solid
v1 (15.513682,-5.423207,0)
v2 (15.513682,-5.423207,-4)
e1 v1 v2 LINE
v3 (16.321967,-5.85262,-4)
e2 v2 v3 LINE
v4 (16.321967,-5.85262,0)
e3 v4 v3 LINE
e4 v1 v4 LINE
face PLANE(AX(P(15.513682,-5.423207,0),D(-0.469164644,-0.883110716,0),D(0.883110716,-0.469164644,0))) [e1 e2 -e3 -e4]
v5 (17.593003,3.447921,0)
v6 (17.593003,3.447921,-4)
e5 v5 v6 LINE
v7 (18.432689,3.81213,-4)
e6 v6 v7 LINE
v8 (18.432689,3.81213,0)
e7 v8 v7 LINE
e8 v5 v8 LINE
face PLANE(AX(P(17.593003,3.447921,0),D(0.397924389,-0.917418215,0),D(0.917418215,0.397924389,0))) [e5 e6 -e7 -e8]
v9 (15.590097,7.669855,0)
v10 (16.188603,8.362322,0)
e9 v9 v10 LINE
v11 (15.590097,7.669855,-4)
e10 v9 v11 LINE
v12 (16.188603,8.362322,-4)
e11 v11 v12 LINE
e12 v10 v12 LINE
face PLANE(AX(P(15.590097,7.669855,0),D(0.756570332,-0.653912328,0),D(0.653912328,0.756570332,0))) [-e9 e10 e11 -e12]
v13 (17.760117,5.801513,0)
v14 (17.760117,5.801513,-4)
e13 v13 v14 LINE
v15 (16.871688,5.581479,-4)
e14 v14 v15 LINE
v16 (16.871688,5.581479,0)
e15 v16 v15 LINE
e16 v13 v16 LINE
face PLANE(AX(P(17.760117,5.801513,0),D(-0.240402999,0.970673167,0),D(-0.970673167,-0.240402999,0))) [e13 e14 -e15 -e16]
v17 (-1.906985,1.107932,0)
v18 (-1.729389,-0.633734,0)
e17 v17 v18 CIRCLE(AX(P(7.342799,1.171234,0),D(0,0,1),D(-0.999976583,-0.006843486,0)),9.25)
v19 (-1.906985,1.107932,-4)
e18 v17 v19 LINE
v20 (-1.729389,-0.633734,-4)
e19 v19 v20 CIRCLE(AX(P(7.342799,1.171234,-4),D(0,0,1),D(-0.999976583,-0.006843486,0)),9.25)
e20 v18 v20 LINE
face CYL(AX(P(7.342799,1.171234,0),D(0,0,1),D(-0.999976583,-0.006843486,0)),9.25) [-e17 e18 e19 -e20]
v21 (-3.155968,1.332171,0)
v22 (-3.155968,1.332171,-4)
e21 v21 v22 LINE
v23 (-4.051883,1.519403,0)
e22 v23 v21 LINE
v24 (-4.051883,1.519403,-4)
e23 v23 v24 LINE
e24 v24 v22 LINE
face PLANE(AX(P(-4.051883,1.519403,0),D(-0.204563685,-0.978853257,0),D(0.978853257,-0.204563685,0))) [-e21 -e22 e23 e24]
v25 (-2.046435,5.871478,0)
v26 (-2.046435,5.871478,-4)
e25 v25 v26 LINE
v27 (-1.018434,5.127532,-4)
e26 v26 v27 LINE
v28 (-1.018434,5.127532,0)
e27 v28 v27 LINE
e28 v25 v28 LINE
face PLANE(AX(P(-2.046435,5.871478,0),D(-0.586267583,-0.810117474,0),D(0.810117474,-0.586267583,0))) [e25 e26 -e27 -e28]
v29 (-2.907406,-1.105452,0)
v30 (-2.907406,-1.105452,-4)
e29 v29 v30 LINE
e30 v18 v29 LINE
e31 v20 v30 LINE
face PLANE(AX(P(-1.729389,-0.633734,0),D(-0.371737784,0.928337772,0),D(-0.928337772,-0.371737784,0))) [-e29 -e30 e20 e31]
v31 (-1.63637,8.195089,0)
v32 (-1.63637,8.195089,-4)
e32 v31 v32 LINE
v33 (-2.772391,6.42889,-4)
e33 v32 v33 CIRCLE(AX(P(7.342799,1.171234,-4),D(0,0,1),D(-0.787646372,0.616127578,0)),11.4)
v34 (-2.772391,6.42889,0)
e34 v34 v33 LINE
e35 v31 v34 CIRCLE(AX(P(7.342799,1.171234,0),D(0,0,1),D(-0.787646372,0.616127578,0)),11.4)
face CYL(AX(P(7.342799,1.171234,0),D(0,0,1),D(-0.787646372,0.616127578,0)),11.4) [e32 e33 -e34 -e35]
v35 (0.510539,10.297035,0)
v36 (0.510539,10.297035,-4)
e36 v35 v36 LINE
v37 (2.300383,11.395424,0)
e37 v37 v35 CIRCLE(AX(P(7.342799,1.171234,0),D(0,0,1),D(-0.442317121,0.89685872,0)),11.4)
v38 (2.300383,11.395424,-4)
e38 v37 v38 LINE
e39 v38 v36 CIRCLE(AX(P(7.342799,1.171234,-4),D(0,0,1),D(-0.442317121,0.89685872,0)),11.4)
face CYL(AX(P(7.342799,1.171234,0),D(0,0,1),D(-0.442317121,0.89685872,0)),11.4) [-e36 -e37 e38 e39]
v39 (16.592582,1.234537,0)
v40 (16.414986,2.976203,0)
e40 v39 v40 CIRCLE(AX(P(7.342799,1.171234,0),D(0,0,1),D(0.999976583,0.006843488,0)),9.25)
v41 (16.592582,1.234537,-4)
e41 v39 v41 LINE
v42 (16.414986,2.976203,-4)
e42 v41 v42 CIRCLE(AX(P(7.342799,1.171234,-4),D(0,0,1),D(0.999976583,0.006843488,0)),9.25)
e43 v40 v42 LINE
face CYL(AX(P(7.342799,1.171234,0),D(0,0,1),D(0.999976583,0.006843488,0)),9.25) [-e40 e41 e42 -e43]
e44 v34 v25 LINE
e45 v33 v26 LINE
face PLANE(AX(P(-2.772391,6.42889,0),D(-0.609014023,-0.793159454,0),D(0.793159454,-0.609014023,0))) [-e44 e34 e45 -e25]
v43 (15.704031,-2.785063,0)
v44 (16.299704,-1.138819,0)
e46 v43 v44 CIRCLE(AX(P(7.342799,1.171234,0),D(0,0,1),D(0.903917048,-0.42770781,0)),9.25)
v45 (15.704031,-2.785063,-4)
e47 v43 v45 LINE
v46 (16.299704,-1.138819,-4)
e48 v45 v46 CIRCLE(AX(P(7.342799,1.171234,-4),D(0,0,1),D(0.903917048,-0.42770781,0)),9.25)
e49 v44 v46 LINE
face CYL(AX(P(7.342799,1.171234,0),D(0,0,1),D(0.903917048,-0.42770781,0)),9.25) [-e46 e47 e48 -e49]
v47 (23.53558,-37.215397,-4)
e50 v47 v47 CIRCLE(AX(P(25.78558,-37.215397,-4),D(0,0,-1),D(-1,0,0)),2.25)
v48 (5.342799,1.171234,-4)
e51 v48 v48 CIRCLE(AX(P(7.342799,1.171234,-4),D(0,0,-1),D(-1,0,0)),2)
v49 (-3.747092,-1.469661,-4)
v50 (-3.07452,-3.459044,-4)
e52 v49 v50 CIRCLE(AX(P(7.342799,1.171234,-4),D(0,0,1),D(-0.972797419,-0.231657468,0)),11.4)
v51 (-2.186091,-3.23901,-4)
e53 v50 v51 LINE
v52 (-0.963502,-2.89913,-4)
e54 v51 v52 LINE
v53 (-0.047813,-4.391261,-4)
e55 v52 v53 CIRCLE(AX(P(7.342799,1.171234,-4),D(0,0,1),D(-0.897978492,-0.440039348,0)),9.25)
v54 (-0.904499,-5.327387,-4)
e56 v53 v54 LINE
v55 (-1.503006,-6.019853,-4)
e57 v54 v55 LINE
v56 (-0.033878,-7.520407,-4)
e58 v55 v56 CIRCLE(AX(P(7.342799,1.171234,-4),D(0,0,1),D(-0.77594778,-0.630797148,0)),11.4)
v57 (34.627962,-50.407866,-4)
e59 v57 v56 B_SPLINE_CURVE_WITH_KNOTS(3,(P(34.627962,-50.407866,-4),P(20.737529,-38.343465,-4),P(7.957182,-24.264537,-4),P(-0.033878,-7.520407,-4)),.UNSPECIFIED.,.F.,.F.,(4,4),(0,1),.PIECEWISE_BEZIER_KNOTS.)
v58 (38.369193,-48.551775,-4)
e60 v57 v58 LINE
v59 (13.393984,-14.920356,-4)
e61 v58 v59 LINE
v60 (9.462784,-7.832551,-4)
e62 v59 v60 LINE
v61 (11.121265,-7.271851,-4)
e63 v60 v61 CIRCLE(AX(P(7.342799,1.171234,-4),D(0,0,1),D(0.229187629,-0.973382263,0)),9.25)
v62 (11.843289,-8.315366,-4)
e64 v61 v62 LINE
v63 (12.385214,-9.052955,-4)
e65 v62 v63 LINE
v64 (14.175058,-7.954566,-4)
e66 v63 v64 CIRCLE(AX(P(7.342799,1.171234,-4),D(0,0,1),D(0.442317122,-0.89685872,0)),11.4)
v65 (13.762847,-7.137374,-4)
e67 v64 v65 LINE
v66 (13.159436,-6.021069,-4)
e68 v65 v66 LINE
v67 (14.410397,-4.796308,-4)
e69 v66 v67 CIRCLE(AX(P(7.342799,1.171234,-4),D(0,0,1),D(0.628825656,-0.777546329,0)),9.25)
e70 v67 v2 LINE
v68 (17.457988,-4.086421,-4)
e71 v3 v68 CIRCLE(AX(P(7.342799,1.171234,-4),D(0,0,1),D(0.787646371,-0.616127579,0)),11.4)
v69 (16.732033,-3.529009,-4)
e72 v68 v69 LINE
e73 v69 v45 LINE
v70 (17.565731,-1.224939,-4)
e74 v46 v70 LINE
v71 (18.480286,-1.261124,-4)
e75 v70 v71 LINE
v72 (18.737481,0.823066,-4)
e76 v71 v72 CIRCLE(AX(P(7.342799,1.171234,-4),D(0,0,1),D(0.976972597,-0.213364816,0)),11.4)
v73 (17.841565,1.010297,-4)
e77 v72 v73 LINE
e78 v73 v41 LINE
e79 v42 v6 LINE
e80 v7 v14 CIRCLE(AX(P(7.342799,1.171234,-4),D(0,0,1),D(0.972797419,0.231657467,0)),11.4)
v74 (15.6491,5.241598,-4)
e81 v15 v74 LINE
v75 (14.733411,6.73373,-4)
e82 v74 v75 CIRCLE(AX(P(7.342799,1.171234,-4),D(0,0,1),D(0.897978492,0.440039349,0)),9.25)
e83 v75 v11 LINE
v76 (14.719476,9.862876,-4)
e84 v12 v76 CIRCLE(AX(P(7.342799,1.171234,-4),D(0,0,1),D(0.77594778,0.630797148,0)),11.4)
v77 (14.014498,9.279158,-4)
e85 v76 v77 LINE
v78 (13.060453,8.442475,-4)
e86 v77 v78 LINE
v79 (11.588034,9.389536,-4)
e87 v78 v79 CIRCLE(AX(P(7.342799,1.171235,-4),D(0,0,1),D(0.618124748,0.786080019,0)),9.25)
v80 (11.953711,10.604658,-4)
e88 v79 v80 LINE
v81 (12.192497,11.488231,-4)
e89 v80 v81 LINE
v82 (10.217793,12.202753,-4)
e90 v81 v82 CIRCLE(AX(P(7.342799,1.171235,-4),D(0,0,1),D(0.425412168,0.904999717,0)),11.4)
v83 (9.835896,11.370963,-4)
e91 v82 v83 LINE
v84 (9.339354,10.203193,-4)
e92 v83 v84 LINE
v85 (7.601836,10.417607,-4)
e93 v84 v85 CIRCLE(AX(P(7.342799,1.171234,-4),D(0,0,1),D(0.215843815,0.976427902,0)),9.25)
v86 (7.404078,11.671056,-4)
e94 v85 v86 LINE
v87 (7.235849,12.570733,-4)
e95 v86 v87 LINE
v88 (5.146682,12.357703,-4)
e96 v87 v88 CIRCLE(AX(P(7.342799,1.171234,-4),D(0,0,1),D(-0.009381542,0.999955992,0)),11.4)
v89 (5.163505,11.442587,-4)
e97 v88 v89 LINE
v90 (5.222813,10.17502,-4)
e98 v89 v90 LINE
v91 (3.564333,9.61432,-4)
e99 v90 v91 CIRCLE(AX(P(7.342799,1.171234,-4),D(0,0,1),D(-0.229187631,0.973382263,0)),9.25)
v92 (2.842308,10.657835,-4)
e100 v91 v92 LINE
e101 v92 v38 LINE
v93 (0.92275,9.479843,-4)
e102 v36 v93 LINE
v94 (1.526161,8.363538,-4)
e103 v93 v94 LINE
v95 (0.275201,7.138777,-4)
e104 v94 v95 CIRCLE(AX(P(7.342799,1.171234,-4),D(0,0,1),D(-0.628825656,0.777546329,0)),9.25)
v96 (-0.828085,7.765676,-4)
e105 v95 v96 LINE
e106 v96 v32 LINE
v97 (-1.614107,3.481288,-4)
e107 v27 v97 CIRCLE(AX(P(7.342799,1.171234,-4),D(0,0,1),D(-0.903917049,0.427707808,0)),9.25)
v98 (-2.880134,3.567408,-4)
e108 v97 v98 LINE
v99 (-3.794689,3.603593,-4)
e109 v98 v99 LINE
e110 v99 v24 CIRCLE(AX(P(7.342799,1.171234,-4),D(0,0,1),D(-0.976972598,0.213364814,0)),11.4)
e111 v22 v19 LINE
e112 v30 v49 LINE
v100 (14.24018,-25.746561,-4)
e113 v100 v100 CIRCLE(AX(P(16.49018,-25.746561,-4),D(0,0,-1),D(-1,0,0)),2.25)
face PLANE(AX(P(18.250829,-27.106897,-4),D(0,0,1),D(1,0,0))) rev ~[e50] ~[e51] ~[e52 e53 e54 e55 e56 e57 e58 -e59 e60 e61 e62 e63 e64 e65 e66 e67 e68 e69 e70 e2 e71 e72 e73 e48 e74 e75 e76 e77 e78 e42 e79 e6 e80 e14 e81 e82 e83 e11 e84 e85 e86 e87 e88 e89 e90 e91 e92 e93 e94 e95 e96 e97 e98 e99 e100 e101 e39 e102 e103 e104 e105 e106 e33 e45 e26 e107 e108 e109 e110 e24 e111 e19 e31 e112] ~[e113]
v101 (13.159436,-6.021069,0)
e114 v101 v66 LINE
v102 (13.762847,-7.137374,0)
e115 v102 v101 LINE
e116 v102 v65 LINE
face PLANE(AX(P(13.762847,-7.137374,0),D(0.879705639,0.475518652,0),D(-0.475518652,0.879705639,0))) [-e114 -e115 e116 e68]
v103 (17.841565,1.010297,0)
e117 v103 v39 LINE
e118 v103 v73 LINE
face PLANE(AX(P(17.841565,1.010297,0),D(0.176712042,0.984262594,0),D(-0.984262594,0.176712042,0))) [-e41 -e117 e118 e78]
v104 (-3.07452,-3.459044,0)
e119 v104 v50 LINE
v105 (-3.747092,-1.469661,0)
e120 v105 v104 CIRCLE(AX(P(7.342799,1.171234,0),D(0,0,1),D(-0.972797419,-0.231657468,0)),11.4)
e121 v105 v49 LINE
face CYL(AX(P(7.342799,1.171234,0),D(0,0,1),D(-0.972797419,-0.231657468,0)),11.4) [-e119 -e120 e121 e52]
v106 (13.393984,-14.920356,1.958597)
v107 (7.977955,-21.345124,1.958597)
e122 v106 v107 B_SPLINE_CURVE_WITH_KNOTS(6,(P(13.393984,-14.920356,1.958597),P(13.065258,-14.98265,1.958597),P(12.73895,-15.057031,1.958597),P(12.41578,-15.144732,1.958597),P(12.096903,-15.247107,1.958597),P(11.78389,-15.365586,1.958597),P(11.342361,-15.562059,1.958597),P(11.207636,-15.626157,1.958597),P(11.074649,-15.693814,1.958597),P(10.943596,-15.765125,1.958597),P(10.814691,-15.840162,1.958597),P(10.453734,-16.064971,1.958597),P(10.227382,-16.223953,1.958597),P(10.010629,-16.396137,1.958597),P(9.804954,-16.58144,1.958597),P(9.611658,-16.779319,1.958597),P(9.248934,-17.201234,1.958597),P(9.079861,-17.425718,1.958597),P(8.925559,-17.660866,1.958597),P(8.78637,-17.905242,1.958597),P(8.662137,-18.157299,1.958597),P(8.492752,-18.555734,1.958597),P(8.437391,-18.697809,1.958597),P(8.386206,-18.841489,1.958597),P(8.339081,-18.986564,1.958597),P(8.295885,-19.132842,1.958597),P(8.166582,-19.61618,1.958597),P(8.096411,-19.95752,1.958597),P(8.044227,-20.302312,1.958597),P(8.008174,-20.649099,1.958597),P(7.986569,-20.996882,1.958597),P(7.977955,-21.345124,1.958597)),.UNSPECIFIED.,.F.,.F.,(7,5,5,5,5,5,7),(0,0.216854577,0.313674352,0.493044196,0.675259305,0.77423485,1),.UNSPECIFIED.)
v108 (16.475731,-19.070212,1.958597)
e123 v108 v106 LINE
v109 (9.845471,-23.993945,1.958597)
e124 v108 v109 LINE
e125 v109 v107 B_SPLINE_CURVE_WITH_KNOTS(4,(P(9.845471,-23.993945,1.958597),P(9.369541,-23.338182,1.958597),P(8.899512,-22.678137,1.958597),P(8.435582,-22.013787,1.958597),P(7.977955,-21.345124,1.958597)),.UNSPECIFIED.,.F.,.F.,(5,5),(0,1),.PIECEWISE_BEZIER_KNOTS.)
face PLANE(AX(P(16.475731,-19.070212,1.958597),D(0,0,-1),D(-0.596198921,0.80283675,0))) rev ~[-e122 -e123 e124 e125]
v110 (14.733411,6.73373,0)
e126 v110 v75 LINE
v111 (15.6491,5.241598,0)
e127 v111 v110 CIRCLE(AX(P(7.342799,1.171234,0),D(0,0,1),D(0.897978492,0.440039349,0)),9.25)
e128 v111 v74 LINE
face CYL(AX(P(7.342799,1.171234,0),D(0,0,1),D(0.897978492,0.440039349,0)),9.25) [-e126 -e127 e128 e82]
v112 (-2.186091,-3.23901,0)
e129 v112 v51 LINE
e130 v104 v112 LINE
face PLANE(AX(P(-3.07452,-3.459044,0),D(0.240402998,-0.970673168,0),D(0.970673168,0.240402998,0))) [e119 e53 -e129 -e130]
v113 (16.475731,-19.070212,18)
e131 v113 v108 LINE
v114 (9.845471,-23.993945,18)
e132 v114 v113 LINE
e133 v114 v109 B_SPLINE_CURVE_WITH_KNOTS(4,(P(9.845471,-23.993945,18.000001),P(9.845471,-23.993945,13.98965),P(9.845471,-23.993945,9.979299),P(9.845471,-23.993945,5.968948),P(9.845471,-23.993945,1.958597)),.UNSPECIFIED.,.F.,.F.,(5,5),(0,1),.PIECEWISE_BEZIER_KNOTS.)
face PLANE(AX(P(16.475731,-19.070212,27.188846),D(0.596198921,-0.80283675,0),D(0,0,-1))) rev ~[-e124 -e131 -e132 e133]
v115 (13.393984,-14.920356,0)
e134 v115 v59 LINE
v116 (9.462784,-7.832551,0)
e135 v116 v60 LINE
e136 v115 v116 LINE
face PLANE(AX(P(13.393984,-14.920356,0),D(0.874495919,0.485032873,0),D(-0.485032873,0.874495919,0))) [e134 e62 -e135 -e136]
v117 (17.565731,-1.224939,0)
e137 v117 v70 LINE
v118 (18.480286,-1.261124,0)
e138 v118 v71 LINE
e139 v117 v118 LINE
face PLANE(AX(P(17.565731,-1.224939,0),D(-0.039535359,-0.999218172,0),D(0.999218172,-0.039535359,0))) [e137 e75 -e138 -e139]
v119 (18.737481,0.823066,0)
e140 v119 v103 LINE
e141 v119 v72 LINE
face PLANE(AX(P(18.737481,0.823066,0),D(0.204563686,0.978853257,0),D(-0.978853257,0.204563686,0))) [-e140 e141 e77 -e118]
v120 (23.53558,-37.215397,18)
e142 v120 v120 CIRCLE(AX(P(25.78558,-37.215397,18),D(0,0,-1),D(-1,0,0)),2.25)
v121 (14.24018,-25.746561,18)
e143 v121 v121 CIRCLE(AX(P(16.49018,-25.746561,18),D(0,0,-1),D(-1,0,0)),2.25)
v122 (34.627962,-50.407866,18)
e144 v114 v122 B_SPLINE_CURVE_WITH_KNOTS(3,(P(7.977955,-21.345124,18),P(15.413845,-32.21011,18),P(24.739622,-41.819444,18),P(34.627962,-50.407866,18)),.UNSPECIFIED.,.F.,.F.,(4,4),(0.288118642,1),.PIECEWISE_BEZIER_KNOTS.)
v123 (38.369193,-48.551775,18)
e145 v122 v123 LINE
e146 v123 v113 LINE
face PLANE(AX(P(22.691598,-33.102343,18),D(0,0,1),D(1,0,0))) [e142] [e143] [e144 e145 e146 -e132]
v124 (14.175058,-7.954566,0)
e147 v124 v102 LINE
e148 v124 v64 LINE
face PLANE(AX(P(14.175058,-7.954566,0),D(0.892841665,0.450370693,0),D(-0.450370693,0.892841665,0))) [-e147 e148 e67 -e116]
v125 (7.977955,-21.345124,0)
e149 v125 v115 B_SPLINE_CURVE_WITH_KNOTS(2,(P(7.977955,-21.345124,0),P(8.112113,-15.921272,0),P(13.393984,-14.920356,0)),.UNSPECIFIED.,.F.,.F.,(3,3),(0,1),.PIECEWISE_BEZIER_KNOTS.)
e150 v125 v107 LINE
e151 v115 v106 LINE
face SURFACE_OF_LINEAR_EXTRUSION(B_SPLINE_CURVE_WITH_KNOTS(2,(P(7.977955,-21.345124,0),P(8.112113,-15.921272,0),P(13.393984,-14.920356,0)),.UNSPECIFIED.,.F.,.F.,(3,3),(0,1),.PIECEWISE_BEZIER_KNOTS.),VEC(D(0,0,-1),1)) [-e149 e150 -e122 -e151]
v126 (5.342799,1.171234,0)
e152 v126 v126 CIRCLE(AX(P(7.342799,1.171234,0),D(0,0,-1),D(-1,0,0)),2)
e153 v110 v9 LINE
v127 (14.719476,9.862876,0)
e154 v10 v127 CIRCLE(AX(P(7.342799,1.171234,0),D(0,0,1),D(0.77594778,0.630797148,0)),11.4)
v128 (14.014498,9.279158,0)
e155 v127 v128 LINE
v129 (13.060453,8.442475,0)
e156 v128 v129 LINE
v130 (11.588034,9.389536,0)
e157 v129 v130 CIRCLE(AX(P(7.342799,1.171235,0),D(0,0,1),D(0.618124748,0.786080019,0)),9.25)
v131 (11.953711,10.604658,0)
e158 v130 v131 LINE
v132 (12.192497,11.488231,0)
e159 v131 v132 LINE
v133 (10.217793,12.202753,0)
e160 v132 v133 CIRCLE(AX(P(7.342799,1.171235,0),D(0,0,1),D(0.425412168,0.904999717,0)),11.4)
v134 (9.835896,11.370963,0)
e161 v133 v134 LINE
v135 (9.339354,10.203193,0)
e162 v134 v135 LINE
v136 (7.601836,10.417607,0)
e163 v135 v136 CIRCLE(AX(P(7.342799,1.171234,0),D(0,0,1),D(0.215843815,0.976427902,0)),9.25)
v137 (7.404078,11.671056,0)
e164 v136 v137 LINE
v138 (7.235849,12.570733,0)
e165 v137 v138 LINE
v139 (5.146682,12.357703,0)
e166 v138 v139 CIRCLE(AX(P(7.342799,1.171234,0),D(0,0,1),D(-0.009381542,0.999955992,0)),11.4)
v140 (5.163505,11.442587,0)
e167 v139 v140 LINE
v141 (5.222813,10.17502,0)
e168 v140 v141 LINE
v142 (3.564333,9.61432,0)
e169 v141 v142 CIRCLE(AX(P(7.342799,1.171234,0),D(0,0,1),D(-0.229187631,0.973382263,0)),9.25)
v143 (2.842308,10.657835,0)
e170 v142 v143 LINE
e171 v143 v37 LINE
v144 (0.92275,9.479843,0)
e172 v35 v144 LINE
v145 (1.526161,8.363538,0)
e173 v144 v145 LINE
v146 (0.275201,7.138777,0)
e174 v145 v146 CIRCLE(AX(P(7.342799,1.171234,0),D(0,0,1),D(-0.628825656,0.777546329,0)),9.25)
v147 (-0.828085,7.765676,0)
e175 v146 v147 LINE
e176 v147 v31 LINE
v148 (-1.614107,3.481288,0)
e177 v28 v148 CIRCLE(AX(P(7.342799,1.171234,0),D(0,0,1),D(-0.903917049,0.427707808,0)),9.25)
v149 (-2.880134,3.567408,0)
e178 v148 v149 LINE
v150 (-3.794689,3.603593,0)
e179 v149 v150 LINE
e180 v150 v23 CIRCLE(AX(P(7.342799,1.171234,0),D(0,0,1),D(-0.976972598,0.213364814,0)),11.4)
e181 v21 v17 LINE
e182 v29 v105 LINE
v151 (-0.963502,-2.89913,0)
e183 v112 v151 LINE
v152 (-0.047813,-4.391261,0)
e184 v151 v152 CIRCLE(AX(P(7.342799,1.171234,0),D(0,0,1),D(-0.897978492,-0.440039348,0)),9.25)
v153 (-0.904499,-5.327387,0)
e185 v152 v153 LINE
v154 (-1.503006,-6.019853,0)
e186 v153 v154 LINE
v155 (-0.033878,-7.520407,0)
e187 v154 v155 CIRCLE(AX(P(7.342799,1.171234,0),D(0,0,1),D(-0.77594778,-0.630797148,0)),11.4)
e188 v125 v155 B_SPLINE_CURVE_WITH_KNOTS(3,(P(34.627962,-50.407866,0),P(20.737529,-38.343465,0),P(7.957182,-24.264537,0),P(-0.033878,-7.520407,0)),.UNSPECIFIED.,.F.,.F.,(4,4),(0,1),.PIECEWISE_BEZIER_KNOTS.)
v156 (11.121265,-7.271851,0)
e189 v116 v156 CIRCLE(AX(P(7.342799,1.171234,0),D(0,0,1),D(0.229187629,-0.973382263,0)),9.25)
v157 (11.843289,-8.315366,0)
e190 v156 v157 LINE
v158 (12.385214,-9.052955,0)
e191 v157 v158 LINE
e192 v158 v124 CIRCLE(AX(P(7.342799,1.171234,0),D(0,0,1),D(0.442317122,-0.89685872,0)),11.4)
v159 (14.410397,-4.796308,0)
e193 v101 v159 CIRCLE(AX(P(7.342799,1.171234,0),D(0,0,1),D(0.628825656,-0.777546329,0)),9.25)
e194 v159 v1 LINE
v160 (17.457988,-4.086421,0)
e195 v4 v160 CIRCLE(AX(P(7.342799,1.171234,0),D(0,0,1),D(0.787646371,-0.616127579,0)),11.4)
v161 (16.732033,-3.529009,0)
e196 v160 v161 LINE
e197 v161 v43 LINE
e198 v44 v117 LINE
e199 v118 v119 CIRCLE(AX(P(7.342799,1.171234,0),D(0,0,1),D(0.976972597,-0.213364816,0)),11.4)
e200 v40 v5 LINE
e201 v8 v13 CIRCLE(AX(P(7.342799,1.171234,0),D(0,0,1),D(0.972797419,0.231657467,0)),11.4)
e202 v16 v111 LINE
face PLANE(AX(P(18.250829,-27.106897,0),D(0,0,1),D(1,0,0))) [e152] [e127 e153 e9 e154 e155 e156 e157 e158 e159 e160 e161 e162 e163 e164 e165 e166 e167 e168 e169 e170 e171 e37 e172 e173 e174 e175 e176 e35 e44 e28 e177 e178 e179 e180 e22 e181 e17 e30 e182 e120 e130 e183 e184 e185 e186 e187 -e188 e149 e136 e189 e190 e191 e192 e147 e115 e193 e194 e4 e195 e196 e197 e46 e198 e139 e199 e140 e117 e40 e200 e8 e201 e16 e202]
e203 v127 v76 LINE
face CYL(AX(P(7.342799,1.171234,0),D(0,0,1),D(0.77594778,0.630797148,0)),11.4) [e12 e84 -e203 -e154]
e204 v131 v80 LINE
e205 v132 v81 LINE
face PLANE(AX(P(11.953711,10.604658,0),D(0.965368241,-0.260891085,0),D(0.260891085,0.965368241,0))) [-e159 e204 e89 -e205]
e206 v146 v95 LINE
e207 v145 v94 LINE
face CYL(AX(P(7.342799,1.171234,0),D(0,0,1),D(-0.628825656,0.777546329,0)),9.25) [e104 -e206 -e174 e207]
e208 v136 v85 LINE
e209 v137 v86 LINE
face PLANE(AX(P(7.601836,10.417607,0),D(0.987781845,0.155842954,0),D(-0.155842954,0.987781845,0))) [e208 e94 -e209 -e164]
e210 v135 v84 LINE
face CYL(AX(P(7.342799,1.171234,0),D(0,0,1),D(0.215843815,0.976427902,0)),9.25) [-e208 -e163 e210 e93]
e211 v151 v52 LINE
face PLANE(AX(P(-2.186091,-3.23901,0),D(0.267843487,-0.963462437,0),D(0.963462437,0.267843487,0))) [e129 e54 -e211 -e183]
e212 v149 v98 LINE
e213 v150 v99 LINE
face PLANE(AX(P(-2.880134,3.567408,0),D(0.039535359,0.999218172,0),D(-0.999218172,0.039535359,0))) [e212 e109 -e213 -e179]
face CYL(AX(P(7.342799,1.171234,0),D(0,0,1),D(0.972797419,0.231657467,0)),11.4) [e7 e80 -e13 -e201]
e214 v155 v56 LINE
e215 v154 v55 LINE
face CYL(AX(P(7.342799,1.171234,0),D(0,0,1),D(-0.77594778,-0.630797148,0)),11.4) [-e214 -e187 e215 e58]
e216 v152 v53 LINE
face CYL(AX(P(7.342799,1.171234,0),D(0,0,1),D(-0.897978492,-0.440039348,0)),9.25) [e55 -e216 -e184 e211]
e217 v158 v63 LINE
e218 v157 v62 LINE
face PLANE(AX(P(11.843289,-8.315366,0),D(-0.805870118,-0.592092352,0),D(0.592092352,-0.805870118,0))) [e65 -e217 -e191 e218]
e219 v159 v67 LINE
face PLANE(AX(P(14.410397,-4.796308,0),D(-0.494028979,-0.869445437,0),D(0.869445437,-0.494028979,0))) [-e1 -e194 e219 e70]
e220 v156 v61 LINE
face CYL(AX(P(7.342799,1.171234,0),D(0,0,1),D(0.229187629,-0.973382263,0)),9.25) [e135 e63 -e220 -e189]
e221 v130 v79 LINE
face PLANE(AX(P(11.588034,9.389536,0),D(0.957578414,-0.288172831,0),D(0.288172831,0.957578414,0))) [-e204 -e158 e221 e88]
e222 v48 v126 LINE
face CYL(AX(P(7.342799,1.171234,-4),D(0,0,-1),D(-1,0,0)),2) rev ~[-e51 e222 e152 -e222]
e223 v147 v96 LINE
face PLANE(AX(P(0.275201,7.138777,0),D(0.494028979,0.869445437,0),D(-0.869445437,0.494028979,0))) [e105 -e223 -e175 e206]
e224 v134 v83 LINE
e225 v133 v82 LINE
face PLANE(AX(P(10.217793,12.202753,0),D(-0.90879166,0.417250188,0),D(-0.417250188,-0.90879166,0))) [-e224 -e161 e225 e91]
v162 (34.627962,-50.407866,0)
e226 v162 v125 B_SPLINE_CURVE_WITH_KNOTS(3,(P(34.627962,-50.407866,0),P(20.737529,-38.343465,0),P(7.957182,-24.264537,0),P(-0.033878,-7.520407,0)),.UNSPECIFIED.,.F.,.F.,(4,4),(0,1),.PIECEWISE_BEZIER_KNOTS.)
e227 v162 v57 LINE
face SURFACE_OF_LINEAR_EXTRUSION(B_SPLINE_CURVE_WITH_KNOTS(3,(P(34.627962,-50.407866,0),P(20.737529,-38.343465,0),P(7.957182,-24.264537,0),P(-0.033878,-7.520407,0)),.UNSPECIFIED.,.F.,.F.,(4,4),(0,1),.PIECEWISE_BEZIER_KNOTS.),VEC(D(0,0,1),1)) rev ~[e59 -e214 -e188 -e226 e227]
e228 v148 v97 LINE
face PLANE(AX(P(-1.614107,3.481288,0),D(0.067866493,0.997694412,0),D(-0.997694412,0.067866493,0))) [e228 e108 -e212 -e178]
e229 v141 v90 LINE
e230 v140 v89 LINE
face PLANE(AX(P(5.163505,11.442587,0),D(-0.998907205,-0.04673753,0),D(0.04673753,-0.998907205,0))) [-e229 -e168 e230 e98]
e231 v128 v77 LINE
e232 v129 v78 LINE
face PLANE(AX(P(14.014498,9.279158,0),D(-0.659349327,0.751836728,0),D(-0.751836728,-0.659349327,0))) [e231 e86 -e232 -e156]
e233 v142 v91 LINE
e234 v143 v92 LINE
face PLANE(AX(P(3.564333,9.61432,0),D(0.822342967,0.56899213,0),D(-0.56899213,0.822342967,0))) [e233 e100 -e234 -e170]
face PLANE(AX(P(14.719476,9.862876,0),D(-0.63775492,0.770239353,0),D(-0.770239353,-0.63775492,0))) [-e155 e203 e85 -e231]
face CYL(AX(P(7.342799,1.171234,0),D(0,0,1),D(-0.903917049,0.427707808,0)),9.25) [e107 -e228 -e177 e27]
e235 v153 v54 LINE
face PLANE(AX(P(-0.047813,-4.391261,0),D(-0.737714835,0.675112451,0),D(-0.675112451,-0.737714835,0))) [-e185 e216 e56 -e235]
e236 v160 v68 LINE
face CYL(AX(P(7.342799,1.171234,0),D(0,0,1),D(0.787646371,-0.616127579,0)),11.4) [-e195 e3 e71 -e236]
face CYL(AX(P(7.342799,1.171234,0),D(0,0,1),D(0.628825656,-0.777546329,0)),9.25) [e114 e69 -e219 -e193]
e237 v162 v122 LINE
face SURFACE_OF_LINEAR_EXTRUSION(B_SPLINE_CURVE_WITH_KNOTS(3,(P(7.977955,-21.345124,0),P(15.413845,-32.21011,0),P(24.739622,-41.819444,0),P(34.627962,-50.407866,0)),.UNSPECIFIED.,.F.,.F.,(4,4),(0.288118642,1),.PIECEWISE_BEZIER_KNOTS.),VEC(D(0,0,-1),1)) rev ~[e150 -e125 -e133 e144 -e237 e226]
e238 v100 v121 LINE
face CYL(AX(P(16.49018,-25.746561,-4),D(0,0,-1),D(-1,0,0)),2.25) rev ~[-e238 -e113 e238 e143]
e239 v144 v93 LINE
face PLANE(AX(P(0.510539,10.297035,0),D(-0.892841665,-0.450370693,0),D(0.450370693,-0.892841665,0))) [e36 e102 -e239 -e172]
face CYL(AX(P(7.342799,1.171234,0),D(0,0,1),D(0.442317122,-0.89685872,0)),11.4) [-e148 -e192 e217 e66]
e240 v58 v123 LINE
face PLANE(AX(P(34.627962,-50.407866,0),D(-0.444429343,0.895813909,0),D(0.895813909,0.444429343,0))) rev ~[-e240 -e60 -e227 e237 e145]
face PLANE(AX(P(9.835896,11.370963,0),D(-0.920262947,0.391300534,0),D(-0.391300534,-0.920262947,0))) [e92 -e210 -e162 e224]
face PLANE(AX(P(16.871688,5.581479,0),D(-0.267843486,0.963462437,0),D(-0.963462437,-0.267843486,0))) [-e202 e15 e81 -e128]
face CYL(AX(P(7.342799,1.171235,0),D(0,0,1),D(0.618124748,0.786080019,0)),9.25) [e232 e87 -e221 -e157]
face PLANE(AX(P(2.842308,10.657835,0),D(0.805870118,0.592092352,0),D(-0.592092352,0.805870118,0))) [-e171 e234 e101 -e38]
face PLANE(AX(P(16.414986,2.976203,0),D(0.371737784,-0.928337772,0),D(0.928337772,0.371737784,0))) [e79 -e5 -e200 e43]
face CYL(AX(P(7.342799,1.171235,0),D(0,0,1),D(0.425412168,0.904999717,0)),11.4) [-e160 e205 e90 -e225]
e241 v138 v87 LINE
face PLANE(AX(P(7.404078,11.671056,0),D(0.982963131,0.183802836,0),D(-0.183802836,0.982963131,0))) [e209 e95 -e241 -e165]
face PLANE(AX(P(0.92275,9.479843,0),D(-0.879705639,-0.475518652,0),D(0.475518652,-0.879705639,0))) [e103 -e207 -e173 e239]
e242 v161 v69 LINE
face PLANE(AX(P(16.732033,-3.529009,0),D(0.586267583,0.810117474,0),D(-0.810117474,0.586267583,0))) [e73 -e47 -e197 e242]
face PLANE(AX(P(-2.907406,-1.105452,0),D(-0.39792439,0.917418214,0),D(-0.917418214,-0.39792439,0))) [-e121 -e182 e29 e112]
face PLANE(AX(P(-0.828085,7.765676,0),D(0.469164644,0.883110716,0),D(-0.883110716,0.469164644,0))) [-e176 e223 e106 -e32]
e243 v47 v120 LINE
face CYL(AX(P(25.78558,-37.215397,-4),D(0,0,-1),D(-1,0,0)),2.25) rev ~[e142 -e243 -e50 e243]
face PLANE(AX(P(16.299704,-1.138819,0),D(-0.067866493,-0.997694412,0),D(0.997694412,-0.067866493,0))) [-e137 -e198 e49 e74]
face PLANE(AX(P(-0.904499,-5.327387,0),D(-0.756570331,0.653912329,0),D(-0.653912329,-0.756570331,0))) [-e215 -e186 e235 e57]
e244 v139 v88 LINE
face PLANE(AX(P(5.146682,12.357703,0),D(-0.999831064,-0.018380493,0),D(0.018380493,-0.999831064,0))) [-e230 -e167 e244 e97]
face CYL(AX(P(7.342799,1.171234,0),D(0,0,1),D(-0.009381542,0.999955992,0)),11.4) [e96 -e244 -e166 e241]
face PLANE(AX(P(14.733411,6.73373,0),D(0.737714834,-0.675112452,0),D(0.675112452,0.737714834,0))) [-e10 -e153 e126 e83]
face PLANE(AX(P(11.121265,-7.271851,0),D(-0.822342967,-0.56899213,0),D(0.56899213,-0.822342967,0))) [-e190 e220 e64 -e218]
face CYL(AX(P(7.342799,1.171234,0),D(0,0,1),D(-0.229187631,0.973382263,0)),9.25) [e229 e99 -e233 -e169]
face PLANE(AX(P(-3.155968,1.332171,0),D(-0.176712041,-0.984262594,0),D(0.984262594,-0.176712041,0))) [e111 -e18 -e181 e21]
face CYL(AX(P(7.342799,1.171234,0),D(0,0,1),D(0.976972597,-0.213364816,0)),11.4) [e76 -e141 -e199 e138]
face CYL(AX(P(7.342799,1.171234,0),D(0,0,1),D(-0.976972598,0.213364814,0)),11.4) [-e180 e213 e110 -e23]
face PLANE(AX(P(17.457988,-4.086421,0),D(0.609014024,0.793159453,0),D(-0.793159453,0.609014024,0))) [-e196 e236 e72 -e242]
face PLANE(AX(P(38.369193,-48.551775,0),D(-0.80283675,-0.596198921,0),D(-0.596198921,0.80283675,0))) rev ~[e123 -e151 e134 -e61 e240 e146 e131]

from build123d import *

# Parameters (mm, degrees)
BOSS_EXTRUDE1_DEPTH = 4
BOSS_EXTRUDE3_DEPTH = 4
SKETCH6_R           = 2
CUT_EXTRUDE1_DEPTH  = 18
BOSS_EXTRUDE4_DEPTH = 18
SKETCH8_R           = 2.25
CUT_EXTRUDE2_DEPTH  = 68.060778195
SKETCH10_W          = 25.230248524
SKETCH10_H          = 17.693033904
CUT_EXTRUDE4_DEPTH  = 66.862040733


with BuildPart() as part:
    # Sketch2 → Boss-Extrude1 (new body)
    with BuildSketch(Plane.XY):
        with BuildLine():
            Line((17.593003447, 3.447921134), (18.432689254, 3.812129579))
            ThreePointArc((18.432689254, 3.812129579), (18.142308848, 4.822341152), (17.760116965, 5.801513031))
            Line((17.760116965, 5.801513031), (16.871688472, 5.581479263))
            Line((16.871688472, 5.581479263), (15.649099733, 5.241598415))
            ThreePointArc((15.649099733, 5.241598415), (15.22663553, 6.009376293), (14.733410626, 6.733729845))
            Line((14.733410626, 6.733729845), (15.590096731, 7.669855443))
            Line((15.590096731, 7.669855443), (16.188603379, 8.362321932))
            ThreePointArc((16.188603379, 8.362321932), (15.488665299, 9.146499772), (14.719475556, 9.862876308))
            Line((14.719475556, 9.862876308), (14.014498216, 9.279158058))
            Line((14.014498216, 9.279158058), (13.060452596, 8.442474621))
            ThreePointArc((13.060452596, 8.442474621), (12.346699165, 8.950918239), (11.588033655, 9.389535972))
            Line((11.588033655, 9.389535972), (11.95371149, 10.604658163))
            Line((11.95371149, 10.604658163), (12.192497398, 11.488231214))
            ThreePointArc((12.192497398, 11.488231214), (11.221632964, 11.891059284), (10.217792822, 12.202753318))
            Line((10.217792822, 12.202753318), (9.835896044, 11.370963143))
            Line((9.835896044, 11.370963143), (9.33935398, 10.203192533))
            ThreePointArc((9.33935398, 10.203192533), (8.475678941, 10.351598396), (7.601835833, 10.417606691))
            Line((7.601835833, 10.417606691), (7.404078418, 11.671055622))
            Line((7.404078418, 11.671055622), (7.235849109, 12.570732756))
            ThreePointArc((7.235849109, 12.570732756), (6.18634993, 12.512426015), (5.14668224, 12.357702722))
            Line((5.14668224, 12.357702722), (5.163505363, 11.442586867))
            Line((5.163505363, 11.442586867), (5.222813101, 10.175020376))
            ThreePointArc((5.222813101, 10.175020376), (4.380277888, 9.933994883), (3.564332526, 9.614319987))
            Line((3.564332526, 9.614319987), (2.842308143, 10.657834724))
            Line((2.842308143, 10.657834724), (2.300383494, 11.395423851))
            ThreePointArc((2.300383494, 11.395423851), (1.380115753, 10.887530665), (0.510539453, 10.297034891))
            Line((0.510539453, 10.297034891), (0.922750452, 9.479843274))
            Line((0.922750452, 9.479843274), (1.526161366, 8.363537991))
            ThreePointArc((1.526161366, 8.363537991), (0.871640411, 7.780819197), (0.275200782, 7.138776643))
            Line((0.275200782, 7.138776643), (-0.828084785, 7.765676295))
            Line((-0.828084785, 7.765676295), (-1.636369952, 8.195088843))
            ThreePointArc((-1.636369952, 8.195088843), (-2.245135941, 7.338203686), (-2.772390602, 6.42889036))
            Line((-2.772390602, 6.42889036), (-2.04643517, 5.871477804))
            Line((-2.04643517, 5.871477804), (-1.018434012, 5.12753168))
            ThreePointArc((-1.018434012, 5.12753168), (-1.355304806, 4.318534189), (-1.61410652, 3.481288379))
            Line((-1.61410652, 3.481288379), (-2.880134034, 3.567407782))
            Line((-2.880134034, 3.567407782), (-3.794688927, 3.603593329))
            ThreePointArc((-3.794688927, 3.603593329), (-3.971379595, 2.567432815), (-4.051883364, 1.519402593))
            Line((-4.051883364, 1.519402593), (-3.155967876, 1.332171491))
            Line((-3.155967876, 1.332171491), (-1.90698471, 1.107932181))
            ThreePointArc((-1.90698471, 1.107932181), (-1.859483953, 0.232887867), (-1.729388897, -0.633734398))
            Line((-1.729388897, -0.633734398), (-2.907406081, -1.105452248))
            Line((-2.907406081, -1.105452248), (-3.747091888, -1.469660694))
            ThreePointArc((-3.747091888, -1.469660694), (-3.456711482, -2.479872267), (-3.0745196, -3.459044145))
            Line((-3.0745196, -3.459044145), (-2.186091107, -3.239010378))
            Line((-2.186091107, -3.239010378), (-0.963502367, -2.899129529))
            ThreePointArc((-0.963502367, -2.899129529), (-0.541038164, -3.666907408), (-0.047813261, -4.391260959))
            Line((-0.047813261, -4.391260959), (-0.904499365, -5.327386558))
            Line((-0.904499365, -5.327386558), (-1.503006014, -6.019853046))
            ThreePointArc((-1.503006014, -6.019853046), (-0.803067933, -6.804030887), (-0.03387819, -7.520407423))
            Line((-0.03387819, -7.520407423), (0.67109915, -6.936689172))
            Line((0.67109915, -6.936689172), (1.625144769, -6.100005735))
            ThreePointArc((1.625144769, -6.100005735), (2.3388982, -6.608449353), (3.097563711, -7.047067087))
            Line((3.097563711, -7.047067087), (2.731885876, -8.262189278))
            Line((2.731885876, -8.262189278), (2.493099968, -9.145762328))
            ThreePointArc((2.493099968, -9.145762328), (3.463964401, -9.548590398), (4.467804544, -9.860284433))
            Line((4.467804544, -9.860284433), (4.849701322, -9.028494257))
            Line((4.849701322, -9.028494257), (5.346243386, -7.860723648))
            ThreePointArc((5.346243386, -7.860723648), (6.209918425, -8.009129511), (7.083761533, -8.075137806))
            Line((7.083761533, -8.075137806), (7.281518948, -9.328586736))
            Line((7.281518948, -9.328586736), (7.449748257, -10.22826387))
            ThreePointArc((7.449748257, -10.22826387), (8.499247436, -10.16995713), (9.538915126, -10.015233837))
            Line((9.538915126, -10.015233837), (9.522092003, -9.100117982))
            Line((9.522092003, -9.100117982), (9.462784265, -7.83255149))
            ThreePointArc((9.462784265, -7.83255149), (10.305319478, -7.591525998), (11.12126484, -7.271851101))
            Line((11.12126484, -7.271851101), (11.843289223, -8.315365839))
            Line((11.843289223, -8.315365839), (12.385213872, -9.052954966))
            ThreePointArc((12.385213872, -9.052954966), (13.305481612, -8.54506178), (14.175057913, -7.954566005))
            Line((14.175057913, -7.954566005), (13.762846914, -7.137374389))
            Line((13.762846914, -7.137374389), (13.159436, -6.021069105))
            ThreePointArc((13.159436, -6.021069105), (13.813956955, -5.438350311), (14.410396584, -4.796307757))
            Line((14.410396584, -4.796307757), (15.513682151, -5.42320741))
            Line((15.513682151, -5.42320741), (16.321967317, -5.852619957))
            ThreePointArc((16.321967317, -5.852619957), (16.930733307, -4.9957348), (17.457987967, -4.086421474))
            Line((17.457987967, -4.086421474), (16.732032536, -3.529008918))
            Line((16.732032536, -3.529008918), (15.704031377, -2.785062794))
            ThreePointArc((15.704031377, -2.785062794), (16.040902172, -1.976065303), (16.299703886, -1.138819493))
            Line((16.299703886, -1.138819493), (17.565731399, -1.224938896))
            Line((17.565731399, -1.224938896), (18.480286292, -1.261124443))
            ThreePointArc((18.480286292, -1.261124443), (18.656976961, -0.22496393), (18.737480729, 0.823066292))
            Line((18.737480729, 0.823066292), (17.841565242, 1.010297394))
            Line((17.841565242, 1.010297394), (16.592582076, 1.234536705))
            ThreePointArc((16.592582076, 1.234536705), (16.545081318, 2.109581019), (16.414986263, 2.976203284))
            Line((16.414986263, 2.976203284), (17.593003447, 3.447921134))
        make_face()
    extrude(amount=-BOSS_EXTRUDE1_DEPTH)

    # Sketch5 → Boss-Extrude3 (add)
    with BuildSketch(Plane.XY):
        with BuildLine():
            Line((34.627961915, -50.407866333), (38.369192873, -48.55177457))
            Line((38.369192873, -48.55177457), (13.393984011, -14.920355903))
            Line((13.393984011, -14.920355903), (9.462784265, -7.83255149))
            Line((9.462784265, -7.83255149), (0.865656202, -2.843190202))
            Line((0.865656202, -2.843190202), (-0.03387819, -7.520407423))
            add(Edge.make_bspline(
                [(34.627961915, -50.407866333), (20.737528927, -38.343464696), (7.957182105, -24.264537371), (-0.03387819, -7.520407423)],
                knots=[0, 0, 0, 0, 1, 1, 1, 1], degree=3))
        make_face()
    extrude(amount=-BOSS_EXTRUDE3_DEPTH)

    # Sketch6 → Cut-Extrude1 (cut)
    with BuildSketch(Plane(origin=(0, 0, -4), x_dir=(-1, 0, 0), z_dir=(0, 0, -1))):
        with Locations((-7.342798683, 1.171234443)):
            Circle(SKETCH6_R)
    extrude(amount=-CUT_EXTRUDE1_DEPTH, mode=Mode.SUBTRACT)

    # Sketch7 → Boss-Extrude4 (add)
    with BuildSketch(Plane.XY):
        with BuildLine():
            Line((34.627961915, -50.407866333), (38.369192873, -48.55177457))
            Line((38.369192873, -48.55177457), (13.393984011, -14.920355903))
            add(Edge.make_bspline(
                [(7.977955023, -21.345123668), (8.112113434, -15.921271934), (13.393984011, -14.920355903)],
                knots=[0, 0, 0, 1, 1, 1], degree=2))
            add(Edge.make_bspline(
                [(7.977955023, -21.345123668), (15.413845314, -32.210109704), (24.739621619, -41.819443715), (34.627961915, -50.407866333)],
                knots=[0.288118642, 0.288118642, 0.288118642, 0.288118642, 1, 1, 1, 1], degree=3))
        make_face()
    extrude(amount=BOSS_EXTRUDE4_DEPTH)

    # Sketch8 → Cut-Extrude2 (cut, through all)
    with BuildSketch(Plane(origin=(0, 0, -4), x_dir=(-1, 0, 0), z_dir=(0, 0, -1))):
        with Locations((-16.490179828, -25.746560684)):
            Circle(SKETCH8_R)
        with Locations((-25.785580409, -37.215397344)):
            Circle(SKETCH8_R)
    extrude(amount=-CUT_EXTRUDE2_DEPTH, mode=Mode.SUBTRACT)

    # Sketch10 → Cut-Extrude4 (cut, through all)
    with BuildSketch(Plane(origin=(1.491415785, 1.107548305, 0), x_dir=(0, 0, -1), z_dir=(0.8028367498889462, 0.5961989206865052, 0))):
        with Locations((-14.573721534, -16.286562524)):
            Rectangle(SKETCH10_W, SKETCH10_H)
    extrude(amount=-CUT_EXTRUDE4_DEPTH, mode=Mode.SUBTRACT)


solid = part.part
